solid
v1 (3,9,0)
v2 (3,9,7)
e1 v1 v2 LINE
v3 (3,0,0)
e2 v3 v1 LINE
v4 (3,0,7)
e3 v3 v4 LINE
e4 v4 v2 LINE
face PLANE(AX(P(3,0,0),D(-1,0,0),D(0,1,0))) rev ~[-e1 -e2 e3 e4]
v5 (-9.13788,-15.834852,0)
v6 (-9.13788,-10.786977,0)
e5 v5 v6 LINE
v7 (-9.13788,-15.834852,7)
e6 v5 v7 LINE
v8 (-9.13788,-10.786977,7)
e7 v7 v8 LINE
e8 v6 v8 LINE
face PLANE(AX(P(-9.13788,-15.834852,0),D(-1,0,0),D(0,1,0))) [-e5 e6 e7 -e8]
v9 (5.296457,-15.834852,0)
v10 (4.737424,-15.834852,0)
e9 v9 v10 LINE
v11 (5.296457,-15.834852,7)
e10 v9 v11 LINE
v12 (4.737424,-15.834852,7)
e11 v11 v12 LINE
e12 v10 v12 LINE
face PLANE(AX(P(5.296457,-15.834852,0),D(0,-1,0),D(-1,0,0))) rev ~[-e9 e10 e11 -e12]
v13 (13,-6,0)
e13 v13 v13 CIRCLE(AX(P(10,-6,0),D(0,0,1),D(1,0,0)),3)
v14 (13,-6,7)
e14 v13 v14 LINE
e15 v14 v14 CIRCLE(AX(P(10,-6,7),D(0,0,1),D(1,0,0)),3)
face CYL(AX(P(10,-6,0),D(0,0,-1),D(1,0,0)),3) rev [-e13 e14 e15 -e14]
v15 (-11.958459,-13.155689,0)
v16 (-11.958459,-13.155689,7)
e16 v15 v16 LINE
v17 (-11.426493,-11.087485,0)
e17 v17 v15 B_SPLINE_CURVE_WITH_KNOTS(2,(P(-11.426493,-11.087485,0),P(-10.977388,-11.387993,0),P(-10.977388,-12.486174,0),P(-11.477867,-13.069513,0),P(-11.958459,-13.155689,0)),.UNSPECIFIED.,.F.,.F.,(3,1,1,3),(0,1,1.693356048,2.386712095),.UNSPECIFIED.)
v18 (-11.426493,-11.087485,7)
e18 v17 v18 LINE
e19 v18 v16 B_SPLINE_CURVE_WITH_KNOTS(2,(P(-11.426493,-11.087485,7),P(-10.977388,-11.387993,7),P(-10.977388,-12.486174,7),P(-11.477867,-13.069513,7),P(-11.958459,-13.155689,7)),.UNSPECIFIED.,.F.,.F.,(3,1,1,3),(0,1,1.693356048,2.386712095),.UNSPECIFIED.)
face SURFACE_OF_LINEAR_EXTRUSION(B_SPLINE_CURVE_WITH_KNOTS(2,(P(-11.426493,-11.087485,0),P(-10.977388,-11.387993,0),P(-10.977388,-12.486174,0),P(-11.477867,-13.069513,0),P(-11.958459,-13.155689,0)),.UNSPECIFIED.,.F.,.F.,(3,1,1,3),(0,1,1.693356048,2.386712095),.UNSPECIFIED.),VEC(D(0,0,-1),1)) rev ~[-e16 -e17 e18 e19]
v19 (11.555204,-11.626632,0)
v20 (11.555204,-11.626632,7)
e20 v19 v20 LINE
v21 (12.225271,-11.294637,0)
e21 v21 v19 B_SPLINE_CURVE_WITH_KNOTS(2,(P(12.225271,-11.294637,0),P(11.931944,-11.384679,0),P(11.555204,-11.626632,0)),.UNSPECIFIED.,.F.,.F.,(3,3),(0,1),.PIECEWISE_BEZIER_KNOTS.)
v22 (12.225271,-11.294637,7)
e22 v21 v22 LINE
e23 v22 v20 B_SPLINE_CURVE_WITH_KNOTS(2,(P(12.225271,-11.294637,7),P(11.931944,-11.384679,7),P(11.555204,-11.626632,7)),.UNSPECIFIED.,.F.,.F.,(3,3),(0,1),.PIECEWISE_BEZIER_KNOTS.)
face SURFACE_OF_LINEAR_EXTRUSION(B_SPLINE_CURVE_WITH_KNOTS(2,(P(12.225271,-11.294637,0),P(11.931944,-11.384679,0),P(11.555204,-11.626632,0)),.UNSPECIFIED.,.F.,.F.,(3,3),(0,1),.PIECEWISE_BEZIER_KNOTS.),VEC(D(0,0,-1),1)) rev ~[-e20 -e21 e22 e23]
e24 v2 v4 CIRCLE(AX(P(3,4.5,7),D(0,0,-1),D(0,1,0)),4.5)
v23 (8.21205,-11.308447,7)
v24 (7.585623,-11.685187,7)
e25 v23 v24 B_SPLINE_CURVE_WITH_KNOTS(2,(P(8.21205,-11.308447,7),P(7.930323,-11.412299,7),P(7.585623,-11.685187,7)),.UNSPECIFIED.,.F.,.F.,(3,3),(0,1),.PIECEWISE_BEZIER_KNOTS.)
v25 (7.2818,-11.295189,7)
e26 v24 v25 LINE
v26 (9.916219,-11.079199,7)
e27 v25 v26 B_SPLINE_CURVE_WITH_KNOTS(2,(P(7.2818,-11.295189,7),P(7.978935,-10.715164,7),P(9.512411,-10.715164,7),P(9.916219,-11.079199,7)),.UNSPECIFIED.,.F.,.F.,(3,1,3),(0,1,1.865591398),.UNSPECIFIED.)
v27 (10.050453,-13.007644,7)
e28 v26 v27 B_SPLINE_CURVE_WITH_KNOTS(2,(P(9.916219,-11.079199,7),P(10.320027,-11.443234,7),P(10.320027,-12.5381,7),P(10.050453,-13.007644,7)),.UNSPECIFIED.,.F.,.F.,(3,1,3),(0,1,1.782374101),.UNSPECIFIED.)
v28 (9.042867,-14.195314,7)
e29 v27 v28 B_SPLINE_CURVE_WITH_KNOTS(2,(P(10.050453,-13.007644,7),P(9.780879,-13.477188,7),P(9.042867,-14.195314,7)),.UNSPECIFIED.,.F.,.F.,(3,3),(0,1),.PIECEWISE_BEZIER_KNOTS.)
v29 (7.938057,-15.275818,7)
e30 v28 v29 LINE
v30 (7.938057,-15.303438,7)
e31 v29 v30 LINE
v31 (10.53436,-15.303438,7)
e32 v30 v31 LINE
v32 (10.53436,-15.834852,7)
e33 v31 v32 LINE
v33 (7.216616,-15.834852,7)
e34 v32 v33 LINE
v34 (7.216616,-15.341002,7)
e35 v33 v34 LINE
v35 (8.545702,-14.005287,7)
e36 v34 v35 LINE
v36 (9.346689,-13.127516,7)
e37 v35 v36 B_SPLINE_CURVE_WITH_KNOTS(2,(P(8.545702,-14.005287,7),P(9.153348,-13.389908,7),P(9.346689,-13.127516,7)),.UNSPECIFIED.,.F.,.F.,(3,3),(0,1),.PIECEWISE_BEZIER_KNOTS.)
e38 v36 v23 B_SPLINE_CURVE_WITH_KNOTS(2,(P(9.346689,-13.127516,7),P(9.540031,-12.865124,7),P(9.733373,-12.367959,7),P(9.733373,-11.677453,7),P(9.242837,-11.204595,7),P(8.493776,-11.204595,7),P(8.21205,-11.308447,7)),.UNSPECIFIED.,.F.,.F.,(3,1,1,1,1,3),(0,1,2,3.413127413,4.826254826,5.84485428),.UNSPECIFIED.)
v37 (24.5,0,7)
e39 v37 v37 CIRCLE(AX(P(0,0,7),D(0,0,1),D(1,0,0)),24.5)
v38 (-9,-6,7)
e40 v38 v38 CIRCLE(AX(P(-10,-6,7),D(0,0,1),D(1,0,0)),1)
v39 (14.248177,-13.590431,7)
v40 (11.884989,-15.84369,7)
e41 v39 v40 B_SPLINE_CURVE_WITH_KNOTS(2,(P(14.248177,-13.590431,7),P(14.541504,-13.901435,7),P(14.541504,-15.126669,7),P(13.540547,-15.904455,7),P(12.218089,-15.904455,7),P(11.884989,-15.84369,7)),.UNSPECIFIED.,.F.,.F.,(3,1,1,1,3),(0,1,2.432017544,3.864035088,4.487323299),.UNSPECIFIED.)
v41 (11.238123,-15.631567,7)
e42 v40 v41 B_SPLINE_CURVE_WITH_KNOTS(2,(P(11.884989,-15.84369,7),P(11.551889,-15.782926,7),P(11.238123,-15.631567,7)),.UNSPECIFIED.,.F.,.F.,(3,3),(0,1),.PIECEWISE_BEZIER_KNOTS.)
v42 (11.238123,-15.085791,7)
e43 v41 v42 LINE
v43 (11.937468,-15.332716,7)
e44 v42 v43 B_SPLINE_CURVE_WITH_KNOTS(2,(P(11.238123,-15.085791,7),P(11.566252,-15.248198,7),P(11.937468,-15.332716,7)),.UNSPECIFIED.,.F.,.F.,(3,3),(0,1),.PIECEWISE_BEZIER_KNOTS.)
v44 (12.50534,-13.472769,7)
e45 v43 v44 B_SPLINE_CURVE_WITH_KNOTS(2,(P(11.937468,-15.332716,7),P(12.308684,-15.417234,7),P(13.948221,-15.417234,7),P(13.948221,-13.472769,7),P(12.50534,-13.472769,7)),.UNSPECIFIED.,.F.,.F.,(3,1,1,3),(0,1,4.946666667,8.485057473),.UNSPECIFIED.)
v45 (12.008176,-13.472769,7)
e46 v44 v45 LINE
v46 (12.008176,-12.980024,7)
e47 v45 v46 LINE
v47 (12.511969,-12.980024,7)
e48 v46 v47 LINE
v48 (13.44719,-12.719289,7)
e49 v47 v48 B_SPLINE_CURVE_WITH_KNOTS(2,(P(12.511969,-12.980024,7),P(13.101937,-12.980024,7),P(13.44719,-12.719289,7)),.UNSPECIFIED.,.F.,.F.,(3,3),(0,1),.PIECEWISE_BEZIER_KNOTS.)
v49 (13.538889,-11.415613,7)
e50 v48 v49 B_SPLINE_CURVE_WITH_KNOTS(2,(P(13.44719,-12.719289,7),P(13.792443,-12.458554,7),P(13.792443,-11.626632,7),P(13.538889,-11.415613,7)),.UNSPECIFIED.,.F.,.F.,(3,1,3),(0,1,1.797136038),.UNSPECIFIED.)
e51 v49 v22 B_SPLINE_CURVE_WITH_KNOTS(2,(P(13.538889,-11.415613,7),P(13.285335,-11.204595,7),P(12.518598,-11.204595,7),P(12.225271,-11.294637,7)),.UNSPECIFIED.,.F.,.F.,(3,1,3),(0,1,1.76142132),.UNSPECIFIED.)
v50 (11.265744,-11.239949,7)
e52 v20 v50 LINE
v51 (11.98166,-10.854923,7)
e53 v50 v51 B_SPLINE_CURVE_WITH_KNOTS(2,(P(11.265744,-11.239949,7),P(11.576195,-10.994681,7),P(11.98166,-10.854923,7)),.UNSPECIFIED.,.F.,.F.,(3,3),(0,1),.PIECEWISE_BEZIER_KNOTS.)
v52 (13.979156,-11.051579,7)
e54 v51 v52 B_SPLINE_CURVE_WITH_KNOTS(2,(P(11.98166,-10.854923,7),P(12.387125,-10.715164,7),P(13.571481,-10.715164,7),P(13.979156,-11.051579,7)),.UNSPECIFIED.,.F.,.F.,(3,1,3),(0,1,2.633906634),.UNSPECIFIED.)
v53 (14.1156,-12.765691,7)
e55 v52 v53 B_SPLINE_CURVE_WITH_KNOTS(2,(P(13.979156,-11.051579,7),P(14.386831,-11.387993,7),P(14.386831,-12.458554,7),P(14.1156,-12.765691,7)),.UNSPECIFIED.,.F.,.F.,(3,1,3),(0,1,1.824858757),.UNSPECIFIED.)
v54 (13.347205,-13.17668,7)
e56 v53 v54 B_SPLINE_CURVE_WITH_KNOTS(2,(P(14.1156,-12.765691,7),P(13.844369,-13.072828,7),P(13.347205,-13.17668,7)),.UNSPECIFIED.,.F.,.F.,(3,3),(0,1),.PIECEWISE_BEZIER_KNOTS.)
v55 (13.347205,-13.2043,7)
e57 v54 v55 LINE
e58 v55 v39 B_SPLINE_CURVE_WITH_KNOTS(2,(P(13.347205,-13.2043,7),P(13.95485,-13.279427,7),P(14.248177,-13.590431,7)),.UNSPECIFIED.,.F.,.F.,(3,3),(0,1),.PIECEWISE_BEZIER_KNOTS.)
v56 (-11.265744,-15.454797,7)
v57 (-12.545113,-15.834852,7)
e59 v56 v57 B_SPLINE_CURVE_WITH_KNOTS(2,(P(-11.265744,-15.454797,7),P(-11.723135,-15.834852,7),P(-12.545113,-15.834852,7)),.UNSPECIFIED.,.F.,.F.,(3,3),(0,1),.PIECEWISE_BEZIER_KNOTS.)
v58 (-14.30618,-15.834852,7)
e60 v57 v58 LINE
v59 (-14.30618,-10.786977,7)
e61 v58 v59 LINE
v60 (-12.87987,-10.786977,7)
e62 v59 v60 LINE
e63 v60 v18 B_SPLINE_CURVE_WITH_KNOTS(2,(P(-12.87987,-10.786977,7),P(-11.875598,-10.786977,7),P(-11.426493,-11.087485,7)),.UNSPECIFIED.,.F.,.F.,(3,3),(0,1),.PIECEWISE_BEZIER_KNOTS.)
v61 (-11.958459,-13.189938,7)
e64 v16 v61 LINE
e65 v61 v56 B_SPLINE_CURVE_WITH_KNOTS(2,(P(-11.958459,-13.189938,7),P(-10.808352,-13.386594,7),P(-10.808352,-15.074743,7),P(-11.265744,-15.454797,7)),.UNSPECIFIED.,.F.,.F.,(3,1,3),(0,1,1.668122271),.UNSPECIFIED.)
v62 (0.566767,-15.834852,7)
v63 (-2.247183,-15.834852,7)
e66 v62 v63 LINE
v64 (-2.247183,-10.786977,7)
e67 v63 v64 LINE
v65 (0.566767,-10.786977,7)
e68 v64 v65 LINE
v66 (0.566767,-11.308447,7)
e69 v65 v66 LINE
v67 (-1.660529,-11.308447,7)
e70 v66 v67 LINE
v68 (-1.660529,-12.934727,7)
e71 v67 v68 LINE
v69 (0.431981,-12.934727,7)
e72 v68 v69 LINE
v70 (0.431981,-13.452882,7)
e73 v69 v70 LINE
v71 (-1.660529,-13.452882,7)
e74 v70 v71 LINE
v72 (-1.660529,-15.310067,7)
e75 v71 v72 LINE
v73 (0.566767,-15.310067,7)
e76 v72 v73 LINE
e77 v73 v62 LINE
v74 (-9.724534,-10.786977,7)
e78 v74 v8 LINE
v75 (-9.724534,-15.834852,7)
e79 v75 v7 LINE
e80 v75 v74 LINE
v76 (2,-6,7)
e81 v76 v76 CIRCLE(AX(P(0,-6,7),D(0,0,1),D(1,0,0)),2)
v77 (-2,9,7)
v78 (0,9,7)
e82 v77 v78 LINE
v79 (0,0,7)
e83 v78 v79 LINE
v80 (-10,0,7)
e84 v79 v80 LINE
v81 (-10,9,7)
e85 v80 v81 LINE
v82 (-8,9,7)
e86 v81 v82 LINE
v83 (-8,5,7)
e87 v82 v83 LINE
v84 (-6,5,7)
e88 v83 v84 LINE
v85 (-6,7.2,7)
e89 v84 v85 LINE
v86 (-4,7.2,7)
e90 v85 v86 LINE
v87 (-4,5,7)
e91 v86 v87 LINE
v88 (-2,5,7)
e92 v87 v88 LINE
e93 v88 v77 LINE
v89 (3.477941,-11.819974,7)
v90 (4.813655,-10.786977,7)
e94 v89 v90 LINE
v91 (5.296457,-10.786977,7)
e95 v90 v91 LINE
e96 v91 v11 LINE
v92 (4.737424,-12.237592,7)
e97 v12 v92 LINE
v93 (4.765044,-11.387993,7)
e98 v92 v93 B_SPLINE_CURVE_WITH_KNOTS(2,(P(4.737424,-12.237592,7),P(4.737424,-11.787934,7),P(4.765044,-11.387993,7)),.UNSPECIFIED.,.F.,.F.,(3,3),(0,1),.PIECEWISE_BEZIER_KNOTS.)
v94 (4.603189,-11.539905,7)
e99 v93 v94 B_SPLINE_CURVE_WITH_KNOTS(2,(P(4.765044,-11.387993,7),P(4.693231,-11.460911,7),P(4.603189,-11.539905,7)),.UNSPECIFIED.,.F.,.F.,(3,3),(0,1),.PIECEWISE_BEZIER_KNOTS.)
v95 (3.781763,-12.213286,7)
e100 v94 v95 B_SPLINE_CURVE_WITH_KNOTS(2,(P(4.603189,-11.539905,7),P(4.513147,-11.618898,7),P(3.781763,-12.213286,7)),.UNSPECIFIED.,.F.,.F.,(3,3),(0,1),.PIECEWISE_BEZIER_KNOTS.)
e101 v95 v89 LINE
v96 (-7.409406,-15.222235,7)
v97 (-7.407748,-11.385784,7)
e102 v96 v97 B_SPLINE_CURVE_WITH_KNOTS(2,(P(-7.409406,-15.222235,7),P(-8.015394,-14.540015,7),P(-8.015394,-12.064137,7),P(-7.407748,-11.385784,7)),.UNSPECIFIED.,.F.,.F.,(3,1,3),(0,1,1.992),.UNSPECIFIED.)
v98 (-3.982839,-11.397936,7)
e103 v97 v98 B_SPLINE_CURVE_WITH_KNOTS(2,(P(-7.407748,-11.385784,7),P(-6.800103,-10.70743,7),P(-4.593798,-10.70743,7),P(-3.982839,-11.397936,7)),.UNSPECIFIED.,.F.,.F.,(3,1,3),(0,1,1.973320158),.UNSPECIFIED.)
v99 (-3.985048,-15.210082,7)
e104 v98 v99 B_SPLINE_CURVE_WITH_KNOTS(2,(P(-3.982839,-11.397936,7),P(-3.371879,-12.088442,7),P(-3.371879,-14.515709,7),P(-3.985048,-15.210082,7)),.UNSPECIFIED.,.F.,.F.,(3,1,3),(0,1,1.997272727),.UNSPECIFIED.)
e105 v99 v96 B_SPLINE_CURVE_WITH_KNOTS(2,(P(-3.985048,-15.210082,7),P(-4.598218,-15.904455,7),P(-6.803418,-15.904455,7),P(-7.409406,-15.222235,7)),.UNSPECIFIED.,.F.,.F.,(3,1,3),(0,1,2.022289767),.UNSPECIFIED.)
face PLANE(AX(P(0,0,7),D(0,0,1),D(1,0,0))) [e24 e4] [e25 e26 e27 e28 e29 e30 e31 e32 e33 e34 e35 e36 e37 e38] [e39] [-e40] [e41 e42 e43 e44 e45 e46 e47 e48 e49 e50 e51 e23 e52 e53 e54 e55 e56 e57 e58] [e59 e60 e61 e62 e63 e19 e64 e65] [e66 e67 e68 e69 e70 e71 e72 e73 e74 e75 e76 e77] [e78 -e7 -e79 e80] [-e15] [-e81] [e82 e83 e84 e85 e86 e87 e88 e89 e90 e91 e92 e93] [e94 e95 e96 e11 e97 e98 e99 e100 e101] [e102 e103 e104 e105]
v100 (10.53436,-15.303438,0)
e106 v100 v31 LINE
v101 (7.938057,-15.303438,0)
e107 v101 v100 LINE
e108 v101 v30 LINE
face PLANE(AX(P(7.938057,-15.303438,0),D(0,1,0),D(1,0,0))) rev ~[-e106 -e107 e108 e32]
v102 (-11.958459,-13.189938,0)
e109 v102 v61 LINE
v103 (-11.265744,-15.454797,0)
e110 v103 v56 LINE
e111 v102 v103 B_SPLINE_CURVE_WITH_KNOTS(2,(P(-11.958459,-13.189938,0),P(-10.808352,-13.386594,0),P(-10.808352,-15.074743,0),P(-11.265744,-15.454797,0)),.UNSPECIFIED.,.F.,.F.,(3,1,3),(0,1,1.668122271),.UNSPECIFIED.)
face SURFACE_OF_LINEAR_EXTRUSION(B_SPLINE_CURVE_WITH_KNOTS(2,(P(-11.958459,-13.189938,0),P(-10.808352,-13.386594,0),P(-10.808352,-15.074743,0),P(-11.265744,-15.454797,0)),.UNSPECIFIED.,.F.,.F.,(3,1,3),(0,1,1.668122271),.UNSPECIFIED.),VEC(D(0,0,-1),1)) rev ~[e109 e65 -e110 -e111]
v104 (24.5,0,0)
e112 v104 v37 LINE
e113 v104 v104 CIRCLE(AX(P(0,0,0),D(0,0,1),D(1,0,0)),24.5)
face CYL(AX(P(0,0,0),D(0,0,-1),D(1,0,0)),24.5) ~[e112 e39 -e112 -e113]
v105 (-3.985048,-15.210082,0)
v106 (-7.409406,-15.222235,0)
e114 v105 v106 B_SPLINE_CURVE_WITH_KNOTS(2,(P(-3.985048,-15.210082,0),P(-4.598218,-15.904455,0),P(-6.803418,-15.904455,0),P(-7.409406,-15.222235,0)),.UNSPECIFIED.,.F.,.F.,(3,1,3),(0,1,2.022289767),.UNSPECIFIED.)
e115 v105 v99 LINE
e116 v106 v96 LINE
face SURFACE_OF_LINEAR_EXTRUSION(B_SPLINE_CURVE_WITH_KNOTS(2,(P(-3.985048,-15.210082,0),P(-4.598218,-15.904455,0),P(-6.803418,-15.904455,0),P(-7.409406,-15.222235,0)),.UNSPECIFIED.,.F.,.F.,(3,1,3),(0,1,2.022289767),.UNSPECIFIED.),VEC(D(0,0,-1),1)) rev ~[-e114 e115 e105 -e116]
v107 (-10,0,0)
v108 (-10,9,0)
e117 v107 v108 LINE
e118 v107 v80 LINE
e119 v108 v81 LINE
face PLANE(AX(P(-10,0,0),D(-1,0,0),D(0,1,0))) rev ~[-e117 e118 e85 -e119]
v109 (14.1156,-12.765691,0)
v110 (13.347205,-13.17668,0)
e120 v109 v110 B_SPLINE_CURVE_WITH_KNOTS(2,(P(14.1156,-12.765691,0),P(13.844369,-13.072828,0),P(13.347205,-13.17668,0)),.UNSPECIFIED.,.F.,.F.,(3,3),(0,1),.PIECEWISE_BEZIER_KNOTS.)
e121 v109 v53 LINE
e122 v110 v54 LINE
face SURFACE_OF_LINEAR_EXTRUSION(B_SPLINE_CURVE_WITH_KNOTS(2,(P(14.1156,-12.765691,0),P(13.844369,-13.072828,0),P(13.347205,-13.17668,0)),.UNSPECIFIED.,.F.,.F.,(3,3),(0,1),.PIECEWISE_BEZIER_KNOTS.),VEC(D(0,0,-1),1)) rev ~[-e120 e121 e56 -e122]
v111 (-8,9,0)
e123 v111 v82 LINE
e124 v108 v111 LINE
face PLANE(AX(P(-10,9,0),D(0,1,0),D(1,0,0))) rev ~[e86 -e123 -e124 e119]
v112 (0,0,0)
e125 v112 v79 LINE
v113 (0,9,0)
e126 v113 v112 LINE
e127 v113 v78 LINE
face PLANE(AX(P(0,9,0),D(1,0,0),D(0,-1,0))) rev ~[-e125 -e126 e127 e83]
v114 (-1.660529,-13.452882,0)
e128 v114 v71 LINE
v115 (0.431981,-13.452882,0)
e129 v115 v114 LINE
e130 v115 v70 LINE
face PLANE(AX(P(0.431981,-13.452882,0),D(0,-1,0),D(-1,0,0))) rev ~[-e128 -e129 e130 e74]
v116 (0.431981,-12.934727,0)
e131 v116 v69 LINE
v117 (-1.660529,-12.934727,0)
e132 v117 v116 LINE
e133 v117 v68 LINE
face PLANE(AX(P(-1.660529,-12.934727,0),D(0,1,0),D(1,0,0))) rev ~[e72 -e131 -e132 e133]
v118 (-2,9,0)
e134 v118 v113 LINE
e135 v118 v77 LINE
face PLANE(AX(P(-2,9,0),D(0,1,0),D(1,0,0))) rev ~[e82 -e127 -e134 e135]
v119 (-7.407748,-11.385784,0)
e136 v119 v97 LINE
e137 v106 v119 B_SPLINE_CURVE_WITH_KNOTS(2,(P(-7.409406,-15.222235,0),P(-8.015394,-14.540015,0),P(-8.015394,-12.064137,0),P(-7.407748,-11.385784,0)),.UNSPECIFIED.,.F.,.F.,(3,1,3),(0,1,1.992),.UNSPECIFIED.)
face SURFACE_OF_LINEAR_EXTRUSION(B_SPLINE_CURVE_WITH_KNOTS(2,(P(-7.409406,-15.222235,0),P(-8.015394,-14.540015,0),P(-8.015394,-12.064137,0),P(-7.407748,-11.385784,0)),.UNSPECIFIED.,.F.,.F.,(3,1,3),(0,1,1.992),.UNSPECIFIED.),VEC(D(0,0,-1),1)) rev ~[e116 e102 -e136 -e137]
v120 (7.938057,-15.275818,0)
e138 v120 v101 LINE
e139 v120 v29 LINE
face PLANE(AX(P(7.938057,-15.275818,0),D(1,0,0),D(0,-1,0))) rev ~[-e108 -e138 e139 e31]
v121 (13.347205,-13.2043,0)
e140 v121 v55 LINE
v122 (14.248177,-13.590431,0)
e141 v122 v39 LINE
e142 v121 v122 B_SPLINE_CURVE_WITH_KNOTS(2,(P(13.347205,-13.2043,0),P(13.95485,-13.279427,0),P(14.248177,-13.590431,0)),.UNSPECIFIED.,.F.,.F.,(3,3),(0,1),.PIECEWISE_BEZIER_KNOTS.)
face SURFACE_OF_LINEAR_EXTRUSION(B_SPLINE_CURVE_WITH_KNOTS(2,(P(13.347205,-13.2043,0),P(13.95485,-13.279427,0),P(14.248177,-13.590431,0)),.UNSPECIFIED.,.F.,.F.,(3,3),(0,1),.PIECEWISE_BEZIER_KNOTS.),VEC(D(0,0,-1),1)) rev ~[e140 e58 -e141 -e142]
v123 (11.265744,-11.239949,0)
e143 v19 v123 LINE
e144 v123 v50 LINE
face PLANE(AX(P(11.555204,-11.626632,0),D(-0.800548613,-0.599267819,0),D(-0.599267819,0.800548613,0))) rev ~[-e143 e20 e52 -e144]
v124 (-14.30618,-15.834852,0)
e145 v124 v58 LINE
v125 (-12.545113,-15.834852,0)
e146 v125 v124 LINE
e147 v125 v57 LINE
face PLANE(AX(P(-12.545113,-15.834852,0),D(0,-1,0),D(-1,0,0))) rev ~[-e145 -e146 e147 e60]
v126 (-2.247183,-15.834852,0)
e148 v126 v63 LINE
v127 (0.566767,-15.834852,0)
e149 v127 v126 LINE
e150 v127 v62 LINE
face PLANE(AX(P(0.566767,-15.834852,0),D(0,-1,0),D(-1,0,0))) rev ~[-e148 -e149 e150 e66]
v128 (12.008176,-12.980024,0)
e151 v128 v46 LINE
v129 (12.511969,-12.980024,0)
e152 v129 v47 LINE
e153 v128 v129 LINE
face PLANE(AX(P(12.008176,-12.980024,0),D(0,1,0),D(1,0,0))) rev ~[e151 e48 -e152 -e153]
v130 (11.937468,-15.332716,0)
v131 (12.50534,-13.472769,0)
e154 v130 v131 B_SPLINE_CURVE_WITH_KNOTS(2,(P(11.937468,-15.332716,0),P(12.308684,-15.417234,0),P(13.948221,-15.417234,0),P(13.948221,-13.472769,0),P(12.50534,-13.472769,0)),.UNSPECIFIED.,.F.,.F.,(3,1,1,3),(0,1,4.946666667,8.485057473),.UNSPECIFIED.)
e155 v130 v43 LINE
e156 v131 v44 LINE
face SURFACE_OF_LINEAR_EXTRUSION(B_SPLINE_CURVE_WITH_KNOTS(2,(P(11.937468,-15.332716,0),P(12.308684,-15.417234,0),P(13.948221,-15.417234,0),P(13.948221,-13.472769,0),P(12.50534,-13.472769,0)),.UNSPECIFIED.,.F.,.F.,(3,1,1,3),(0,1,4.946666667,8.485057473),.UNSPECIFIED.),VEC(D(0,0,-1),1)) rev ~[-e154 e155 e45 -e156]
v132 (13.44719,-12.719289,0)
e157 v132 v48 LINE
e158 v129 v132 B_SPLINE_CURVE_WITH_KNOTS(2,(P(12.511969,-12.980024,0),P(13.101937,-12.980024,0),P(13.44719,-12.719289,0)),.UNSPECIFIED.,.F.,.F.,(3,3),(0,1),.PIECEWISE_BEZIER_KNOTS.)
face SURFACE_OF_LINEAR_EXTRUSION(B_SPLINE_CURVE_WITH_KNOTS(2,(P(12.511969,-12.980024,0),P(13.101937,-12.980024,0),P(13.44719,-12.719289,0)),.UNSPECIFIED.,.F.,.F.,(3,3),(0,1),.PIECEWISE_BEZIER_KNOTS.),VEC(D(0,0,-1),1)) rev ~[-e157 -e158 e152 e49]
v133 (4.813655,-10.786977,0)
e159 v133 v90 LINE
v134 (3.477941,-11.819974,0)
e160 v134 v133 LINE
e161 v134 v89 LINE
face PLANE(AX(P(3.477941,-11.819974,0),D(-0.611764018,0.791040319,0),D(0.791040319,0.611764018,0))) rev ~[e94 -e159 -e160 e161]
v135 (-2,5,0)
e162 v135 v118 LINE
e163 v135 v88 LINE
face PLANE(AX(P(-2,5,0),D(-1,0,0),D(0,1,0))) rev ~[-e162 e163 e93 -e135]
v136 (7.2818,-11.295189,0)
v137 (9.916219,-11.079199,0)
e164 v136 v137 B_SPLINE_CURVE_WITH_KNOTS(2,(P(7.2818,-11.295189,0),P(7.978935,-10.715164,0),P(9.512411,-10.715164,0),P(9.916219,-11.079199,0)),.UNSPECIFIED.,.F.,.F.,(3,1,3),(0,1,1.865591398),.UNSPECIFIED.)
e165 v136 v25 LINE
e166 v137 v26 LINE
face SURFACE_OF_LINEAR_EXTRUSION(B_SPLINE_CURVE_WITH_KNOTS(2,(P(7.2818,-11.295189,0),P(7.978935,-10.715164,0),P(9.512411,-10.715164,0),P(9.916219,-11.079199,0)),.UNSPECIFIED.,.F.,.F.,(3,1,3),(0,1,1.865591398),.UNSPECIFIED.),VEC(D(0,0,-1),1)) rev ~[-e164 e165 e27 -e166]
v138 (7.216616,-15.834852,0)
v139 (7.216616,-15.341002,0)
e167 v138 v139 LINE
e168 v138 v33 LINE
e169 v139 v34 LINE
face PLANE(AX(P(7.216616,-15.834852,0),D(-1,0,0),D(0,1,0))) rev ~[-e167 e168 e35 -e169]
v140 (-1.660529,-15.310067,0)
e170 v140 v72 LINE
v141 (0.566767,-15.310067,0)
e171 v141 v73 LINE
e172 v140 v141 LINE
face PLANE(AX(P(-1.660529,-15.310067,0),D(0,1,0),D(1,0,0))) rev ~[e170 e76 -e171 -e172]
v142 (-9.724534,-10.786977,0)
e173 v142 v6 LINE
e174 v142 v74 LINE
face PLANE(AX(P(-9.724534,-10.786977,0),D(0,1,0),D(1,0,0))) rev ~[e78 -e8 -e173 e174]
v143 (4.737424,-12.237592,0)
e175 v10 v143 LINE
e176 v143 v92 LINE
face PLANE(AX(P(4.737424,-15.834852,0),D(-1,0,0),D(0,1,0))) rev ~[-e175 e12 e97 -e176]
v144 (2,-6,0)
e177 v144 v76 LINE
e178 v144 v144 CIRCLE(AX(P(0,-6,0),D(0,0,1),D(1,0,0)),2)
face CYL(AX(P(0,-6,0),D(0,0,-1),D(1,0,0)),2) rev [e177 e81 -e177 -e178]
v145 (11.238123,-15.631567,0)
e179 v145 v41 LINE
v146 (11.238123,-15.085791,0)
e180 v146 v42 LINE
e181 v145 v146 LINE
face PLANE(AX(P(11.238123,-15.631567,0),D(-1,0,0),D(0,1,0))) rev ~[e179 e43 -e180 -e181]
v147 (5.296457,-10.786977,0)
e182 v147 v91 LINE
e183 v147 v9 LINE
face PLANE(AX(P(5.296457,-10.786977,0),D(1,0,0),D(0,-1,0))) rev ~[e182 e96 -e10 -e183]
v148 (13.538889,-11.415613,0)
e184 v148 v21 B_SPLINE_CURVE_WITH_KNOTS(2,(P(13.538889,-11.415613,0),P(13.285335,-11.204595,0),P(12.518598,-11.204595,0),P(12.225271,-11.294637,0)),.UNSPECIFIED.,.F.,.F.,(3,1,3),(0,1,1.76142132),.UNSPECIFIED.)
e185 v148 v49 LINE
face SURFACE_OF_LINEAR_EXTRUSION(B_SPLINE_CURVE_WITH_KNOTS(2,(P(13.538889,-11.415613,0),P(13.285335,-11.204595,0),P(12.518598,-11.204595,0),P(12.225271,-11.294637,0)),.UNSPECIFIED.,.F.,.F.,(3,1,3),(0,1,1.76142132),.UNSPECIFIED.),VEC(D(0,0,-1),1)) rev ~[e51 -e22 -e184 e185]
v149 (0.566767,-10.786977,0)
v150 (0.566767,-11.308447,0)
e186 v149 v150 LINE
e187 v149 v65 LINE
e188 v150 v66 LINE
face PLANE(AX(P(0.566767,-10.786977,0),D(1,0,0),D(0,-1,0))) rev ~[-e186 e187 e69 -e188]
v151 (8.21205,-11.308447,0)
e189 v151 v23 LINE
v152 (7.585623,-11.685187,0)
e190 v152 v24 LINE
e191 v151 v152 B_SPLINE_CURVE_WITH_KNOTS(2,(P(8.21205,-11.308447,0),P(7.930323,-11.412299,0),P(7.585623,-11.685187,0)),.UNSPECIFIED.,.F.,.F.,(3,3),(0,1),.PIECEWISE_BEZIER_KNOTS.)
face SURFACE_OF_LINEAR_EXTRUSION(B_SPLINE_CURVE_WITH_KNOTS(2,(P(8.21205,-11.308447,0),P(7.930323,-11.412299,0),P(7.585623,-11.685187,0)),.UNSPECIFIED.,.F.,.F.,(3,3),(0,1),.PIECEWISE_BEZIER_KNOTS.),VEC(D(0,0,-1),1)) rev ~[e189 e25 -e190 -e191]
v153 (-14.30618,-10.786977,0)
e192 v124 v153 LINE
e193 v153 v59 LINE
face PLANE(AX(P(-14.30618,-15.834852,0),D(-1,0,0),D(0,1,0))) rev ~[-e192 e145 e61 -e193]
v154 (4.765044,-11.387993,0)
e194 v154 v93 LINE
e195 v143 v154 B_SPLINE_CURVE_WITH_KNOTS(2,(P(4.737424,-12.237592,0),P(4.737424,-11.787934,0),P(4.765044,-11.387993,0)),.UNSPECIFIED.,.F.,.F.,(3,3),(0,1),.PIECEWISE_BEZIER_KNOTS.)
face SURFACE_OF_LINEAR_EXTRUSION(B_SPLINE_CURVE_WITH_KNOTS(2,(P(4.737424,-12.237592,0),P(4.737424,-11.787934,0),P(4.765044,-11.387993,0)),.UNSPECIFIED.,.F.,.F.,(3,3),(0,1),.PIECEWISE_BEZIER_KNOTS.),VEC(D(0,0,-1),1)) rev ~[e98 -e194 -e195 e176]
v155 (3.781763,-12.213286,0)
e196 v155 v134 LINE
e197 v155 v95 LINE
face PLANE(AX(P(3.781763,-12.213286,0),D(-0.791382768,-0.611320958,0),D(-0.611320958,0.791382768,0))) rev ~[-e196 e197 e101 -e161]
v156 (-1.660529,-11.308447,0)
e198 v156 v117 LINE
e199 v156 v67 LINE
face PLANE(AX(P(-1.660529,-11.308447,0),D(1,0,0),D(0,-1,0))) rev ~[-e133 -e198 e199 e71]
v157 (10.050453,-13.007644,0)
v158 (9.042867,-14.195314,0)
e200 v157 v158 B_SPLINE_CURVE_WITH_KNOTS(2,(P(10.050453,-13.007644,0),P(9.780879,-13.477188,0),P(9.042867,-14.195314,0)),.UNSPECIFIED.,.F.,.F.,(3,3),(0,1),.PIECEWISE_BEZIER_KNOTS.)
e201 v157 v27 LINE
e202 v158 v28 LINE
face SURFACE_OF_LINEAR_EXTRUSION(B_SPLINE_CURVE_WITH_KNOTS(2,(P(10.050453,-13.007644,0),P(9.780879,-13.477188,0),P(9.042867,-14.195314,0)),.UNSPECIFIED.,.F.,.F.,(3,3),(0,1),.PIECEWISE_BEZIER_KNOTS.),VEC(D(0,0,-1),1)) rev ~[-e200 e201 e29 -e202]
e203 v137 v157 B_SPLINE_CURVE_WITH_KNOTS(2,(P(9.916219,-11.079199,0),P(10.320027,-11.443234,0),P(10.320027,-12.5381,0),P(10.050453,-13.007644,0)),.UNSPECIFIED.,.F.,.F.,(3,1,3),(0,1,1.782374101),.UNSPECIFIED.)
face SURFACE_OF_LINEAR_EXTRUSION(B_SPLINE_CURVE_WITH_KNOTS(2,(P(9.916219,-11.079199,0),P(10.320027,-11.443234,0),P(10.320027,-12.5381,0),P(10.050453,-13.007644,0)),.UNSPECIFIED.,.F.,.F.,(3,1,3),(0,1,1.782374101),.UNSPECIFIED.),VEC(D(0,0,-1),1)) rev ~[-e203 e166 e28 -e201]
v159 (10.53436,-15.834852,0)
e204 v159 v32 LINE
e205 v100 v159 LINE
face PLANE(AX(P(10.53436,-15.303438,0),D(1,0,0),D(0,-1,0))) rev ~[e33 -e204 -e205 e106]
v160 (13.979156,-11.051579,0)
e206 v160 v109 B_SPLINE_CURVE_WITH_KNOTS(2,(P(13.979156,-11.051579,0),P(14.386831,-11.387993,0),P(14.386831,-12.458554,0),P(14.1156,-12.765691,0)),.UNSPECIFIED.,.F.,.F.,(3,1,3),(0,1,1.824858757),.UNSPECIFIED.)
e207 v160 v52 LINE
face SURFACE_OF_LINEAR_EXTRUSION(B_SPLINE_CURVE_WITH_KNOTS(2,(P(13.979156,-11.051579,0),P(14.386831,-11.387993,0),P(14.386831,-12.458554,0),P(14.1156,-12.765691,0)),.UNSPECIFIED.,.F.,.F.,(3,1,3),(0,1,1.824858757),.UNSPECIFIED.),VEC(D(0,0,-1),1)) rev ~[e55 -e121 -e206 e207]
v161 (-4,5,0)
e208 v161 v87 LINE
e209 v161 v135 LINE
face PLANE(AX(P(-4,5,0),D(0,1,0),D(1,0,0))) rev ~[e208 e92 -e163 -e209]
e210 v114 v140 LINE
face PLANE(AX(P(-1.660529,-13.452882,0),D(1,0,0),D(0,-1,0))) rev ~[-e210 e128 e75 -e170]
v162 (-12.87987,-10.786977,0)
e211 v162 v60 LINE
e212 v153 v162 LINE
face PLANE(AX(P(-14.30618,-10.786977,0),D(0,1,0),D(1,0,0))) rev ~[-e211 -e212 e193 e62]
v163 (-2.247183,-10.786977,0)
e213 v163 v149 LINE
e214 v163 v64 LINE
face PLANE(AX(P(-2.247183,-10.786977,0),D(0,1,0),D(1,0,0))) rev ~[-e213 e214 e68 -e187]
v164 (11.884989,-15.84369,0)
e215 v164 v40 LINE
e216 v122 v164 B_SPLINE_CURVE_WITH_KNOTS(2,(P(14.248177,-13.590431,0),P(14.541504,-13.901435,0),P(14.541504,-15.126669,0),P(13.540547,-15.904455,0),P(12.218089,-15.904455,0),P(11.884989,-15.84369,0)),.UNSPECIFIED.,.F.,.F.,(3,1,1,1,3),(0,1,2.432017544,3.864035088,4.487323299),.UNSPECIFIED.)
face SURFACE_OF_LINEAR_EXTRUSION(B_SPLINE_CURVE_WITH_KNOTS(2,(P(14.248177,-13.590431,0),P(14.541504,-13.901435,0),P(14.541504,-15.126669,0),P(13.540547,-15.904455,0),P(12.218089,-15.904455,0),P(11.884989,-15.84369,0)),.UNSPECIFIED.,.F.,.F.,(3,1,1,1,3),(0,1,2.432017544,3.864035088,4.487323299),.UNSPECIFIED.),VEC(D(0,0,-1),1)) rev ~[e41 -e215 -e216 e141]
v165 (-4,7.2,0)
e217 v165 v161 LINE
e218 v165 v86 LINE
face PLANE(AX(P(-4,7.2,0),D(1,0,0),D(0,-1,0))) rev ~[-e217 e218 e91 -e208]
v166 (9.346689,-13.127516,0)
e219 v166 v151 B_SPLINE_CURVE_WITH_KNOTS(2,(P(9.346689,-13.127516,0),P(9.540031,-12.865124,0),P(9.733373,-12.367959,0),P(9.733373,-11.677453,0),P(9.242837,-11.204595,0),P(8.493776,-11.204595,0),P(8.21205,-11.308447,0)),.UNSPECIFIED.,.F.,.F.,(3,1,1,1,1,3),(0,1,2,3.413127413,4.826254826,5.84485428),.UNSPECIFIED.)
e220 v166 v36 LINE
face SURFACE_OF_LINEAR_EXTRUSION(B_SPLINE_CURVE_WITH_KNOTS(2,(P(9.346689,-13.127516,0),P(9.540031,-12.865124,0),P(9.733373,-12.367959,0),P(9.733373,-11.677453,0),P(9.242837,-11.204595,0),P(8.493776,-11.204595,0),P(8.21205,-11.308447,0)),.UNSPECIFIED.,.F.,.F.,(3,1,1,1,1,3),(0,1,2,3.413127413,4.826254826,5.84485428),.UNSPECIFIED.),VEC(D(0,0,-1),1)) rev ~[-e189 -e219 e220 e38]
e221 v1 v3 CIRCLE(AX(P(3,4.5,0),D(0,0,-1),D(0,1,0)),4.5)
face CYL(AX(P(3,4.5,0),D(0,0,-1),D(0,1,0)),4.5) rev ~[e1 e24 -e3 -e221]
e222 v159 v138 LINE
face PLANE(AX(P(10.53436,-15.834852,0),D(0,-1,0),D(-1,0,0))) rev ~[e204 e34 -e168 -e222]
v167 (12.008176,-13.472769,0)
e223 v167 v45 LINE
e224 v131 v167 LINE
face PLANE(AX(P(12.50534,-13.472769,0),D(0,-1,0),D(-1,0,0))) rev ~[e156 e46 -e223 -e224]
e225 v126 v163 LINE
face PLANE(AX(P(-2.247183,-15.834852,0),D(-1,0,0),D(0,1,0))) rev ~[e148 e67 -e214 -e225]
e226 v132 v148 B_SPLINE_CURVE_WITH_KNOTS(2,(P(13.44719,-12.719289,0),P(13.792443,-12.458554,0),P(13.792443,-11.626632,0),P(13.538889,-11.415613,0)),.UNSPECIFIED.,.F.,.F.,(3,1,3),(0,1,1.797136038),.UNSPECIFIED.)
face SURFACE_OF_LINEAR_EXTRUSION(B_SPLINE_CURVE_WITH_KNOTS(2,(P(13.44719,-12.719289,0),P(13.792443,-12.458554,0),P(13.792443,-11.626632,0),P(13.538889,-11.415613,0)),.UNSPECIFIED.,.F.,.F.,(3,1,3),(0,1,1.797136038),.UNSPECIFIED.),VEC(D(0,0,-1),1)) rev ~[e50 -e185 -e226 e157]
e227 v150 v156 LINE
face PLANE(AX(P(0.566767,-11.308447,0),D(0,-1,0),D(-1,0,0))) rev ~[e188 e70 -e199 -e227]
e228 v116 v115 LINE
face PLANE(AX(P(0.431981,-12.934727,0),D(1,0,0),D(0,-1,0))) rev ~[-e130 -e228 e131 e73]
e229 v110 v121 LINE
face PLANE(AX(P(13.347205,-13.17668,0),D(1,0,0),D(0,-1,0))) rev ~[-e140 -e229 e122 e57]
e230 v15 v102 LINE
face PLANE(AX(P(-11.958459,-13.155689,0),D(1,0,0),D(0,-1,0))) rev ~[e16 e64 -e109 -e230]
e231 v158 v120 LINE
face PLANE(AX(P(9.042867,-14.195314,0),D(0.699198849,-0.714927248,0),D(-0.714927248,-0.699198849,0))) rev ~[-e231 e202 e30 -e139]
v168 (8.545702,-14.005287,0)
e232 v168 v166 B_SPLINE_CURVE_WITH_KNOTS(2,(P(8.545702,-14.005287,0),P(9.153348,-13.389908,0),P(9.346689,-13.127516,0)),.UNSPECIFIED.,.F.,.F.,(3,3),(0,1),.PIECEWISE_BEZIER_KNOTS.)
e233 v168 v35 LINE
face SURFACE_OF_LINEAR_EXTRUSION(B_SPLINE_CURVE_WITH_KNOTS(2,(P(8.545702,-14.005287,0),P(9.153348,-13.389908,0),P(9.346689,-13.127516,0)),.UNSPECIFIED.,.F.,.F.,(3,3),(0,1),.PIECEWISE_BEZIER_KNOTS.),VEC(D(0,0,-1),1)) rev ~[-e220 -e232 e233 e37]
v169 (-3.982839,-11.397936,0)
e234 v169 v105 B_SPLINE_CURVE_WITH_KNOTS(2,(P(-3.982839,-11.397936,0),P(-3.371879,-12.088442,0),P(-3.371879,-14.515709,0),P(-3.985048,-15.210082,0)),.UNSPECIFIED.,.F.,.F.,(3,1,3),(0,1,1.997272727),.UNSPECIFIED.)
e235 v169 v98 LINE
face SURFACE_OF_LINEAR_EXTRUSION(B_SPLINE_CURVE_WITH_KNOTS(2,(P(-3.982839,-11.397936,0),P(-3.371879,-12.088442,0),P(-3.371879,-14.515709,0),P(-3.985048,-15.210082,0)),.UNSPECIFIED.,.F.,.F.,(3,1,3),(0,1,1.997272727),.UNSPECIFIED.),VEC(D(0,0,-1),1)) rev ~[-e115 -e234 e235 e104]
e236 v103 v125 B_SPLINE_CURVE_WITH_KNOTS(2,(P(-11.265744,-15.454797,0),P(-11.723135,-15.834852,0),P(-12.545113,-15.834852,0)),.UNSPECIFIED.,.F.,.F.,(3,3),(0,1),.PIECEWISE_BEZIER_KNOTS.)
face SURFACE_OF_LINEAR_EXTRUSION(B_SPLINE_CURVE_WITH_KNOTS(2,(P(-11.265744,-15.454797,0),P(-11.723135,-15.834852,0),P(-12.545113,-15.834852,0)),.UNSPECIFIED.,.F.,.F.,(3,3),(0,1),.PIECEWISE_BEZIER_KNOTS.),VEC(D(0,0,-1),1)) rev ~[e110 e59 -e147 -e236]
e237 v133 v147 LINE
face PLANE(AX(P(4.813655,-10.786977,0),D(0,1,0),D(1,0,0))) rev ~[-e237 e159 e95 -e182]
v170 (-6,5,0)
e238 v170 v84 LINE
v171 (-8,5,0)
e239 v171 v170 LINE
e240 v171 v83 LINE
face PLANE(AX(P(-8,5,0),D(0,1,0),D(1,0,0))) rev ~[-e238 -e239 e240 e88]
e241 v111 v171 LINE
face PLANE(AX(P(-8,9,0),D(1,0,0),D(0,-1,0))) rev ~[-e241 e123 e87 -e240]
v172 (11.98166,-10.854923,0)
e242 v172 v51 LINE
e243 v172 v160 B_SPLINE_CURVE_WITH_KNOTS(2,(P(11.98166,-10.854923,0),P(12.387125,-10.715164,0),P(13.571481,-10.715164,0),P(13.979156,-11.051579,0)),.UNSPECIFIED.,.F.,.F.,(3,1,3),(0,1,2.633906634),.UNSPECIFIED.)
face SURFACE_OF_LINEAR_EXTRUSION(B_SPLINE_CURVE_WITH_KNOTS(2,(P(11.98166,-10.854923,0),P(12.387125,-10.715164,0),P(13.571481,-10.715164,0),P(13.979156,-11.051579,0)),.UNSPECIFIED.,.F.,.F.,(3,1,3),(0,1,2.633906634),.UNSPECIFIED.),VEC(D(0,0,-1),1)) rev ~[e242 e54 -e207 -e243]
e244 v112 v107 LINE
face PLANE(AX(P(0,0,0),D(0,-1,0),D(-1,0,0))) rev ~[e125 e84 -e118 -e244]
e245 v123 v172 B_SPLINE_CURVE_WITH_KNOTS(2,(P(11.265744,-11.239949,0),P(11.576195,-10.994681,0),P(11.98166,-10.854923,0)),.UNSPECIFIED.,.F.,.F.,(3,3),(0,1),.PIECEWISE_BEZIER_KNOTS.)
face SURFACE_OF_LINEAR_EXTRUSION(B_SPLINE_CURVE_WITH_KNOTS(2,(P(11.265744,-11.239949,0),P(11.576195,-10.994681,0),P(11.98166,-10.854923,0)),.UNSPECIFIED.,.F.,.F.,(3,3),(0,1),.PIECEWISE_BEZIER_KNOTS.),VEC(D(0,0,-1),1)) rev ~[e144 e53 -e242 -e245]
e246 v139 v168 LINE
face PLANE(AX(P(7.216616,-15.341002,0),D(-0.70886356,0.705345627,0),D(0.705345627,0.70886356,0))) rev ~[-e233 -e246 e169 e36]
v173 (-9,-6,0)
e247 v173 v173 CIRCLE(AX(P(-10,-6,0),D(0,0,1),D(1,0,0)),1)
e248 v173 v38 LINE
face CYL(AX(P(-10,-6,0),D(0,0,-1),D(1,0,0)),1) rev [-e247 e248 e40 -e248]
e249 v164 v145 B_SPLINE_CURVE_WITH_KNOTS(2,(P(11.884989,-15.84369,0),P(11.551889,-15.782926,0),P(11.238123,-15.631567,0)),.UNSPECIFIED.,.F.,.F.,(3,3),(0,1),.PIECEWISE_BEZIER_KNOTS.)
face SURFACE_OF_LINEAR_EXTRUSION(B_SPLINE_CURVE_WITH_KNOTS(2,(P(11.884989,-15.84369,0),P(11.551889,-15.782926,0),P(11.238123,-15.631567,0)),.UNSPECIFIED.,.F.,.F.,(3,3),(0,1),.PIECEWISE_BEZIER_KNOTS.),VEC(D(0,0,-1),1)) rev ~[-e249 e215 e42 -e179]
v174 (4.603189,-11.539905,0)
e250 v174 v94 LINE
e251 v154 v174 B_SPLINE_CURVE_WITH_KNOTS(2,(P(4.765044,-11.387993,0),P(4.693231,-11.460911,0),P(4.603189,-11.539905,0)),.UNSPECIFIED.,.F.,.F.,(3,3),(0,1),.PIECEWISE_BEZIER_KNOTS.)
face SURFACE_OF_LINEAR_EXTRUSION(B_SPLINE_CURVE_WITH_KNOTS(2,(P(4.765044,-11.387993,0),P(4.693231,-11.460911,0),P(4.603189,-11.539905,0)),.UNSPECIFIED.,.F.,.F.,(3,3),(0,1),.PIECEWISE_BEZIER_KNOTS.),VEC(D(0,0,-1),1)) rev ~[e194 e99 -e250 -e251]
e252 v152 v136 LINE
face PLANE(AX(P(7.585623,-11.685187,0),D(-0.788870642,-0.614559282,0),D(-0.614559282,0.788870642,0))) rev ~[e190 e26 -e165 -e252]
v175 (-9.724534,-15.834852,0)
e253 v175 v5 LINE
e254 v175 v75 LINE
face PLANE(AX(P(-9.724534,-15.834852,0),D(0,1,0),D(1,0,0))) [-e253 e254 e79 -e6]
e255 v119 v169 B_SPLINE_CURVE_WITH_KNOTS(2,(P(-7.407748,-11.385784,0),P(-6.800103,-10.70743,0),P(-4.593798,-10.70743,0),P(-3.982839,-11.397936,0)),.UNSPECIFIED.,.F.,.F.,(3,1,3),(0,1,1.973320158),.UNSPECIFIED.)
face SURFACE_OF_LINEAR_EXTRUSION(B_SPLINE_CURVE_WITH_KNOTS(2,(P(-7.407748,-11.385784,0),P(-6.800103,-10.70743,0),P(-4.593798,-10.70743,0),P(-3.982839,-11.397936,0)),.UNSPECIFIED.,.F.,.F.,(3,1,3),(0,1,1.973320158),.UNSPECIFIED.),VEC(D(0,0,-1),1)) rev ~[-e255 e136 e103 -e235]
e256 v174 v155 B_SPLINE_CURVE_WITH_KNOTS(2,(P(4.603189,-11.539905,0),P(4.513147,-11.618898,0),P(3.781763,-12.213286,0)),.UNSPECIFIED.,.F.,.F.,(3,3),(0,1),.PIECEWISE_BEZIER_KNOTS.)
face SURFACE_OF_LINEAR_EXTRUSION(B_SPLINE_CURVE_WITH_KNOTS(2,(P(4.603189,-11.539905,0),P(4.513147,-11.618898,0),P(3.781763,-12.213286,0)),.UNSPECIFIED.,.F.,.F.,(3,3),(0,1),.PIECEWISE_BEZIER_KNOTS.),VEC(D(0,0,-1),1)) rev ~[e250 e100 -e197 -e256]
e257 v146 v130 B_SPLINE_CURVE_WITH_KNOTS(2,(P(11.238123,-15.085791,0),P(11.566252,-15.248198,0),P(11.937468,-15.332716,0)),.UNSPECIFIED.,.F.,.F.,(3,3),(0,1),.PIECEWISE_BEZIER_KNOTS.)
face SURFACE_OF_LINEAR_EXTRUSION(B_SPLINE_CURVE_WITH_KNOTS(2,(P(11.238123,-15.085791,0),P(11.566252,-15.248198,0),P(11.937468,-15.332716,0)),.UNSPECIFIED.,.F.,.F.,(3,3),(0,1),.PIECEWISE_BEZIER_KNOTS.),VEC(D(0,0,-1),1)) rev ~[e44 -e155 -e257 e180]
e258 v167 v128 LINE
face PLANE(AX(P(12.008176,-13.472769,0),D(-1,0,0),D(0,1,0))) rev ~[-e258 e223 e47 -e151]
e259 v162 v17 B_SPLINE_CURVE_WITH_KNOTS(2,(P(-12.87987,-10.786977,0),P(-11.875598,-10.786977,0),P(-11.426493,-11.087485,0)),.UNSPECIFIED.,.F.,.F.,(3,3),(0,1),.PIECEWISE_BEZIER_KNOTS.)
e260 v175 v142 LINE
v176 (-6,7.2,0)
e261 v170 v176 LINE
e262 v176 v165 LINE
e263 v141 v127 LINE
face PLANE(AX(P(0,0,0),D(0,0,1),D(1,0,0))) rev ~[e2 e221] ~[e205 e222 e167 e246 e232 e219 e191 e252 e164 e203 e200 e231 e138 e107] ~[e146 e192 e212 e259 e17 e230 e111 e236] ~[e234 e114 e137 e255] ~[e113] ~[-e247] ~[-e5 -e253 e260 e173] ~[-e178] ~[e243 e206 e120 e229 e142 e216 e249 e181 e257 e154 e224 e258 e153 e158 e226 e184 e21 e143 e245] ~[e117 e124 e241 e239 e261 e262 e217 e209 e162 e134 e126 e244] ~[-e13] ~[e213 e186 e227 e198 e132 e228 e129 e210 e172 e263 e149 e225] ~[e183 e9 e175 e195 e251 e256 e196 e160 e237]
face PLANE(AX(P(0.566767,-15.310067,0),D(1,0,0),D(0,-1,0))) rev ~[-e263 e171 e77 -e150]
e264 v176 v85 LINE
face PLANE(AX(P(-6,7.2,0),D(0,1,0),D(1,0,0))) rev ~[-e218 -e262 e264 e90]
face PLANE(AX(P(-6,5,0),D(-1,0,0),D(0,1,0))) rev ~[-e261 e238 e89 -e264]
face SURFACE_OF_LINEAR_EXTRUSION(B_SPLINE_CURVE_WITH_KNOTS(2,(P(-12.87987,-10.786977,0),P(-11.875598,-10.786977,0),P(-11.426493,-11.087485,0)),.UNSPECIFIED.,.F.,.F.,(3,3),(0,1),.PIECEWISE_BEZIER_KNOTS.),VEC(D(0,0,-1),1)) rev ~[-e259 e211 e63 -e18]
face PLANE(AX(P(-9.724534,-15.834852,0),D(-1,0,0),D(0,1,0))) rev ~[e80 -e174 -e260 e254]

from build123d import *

# Parameters (mm, degrees)
F0_R     = 24.5
F0_W     = 0.5866539
F0_H     = 5.0478750829
F0_R_2   = 1
F0_R_3   = 2
F0_R_4   = 3
F1_DEPTH = 7


with BuildPart() as f1:
    # F0 (on Top) → F1 (new body)
    with BuildSketch(Plane.XY):
        Circle(F0_R)
        with BuildLine():
            Line((-14.3061795684, -15.8348518479), (-14.3061795684, -10.786976765))
            Line((-14.3061795684, -10.786976765), (-12.879870369, -10.786976765))
            add(Edge.make_bspline(
                [(-12.879870369, -10.786976765), (-11.8755984385, -10.786976765), (-11.4264933343, -11.0874849775)],
                knots=[0, 0, 0, 1, 1, 1], degree=2))
            add(Edge.make_bspline(
                [(-11.4264933343, -11.0874849775), (-10.9773882301, -11.3879931899), (-10.9773882301, -12.0365164277)],
                knots=[0, 0, 0, 1, 1, 1], degree=2))
            add(Edge.make_bspline(
                [(-10.9773882301, -12.0365164277), (-10.9773882301, -12.4861739367), (-11.2276276055, -12.7778436723)],
                knots=[0, 0, 0, 1, 1, 1], degree=2))
            add(Edge.make_bspline(
                [(-11.2276276055, -12.7778436723), (-11.4778669809, -13.0695134079), (-11.9584591589, -13.155688557)],
                knots=[0, 0, 0, 1, 1, 1], degree=2))
            Line((-11.9584591589, -13.155688557), (-11.9584591589, -13.1899376548))
            add(Edge.make_bspline(
                [(-11.9584591589, -13.1899376548), (-10.8083523606, -13.3865937644), (-10.8083523606, -14.3985993621)],
                knots=[0, 0, 0, 1, 1, 1], degree=2))
            add(Edge.make_bspline(
                [(-10.8083523606, -14.3985993621), (-10.8083523606, -15.07474284), (-11.2657435369, -15.454797344)],
                knots=[0, 0, 0, 1, 1, 1], degree=2))
            add(Edge.make_bspline(
                [(-11.2657435369, -15.454797344), (-11.7231347131, -15.8348518479), (-12.5451130588, -15.8348518479)],
                knots=[0, 0, 0, 1, 1, 1], degree=2))
            Line((-12.5451130588, -15.8348518479), (-14.3061795684, -15.8348518479))
        make_face(mode=Mode.SUBTRACT)
        with Locations((-9.4312071886, -13.3109143065)):
            Rectangle(F0_W, F0_H, mode=Mode.SUBTRACT)
        with BuildLine():
            add(Edge.make_bspline(
                [(-3.9828386241, -11.3979364763), (-3.3718789129, -12.0884424791), (-3.3718789129, -13.303733044)],
                knots=[0, 0, 0, 1, 1, 1], degree=2))
            add(Edge.make_bspline(
                [(-3.3718789129, -13.303733044), (-3.3718789129, -14.5157091802), (-3.9850482434, -15.2100820166)],
                knots=[0, 0, 0, 1, 1, 1], degree=2))
            add(Edge.make_bspline(
                [(-3.9850482434, -15.2100820166), (-4.5982175738, -15.904454853), (-5.6886646535, -15.904454853)],
                knots=[0, 0, 0, 1, 1, 1], degree=2))
            add(Edge.make_bspline(
                [(-5.6886646535, -15.904454853), (-6.8034175444, -15.904454853), (-7.4094056124, -15.2222349222)],
                knots=[0, 0, 0, 1, 1, 1], degree=2))
            add(Edge.make_bspline(
                [(-7.4094056124, -15.2222349222), (-8.0153936805, -14.5400149915), (-8.0153936805, -13.2971041864)],
                knots=[0, 0, 0, 1, 1, 1], degree=2))
            add(Edge.make_bspline(
                [(-8.0153936805, -13.2971041864), (-8.0153936805, -12.0641366678), (-7.407748398, -11.3857835707)],
                knots=[0, 0, 0, 1, 1, 1], degree=2))
            add(Edge.make_bspline(
                [(-7.407748398, -11.3857835707), (-6.8001031156, -10.7074304735), (-5.6820357958, -10.7074304735)],
                knots=[0, 0, 0, 1, 1, 1], degree=2))
            add(Edge.make_bspline(
                [(-5.6820357958, -10.7074304735), (-4.5937983354, -10.7074304735), (-3.9828386241, -11.3979364763)],
                knots=[0, 0, 0, 1, 1, 1], degree=2))
        make_face(mode=Mode.SUBTRACT)
        Polygon((0.5667673271, -15.3100672858), (0.5667673271, -15.8348518479), (-2.2471827355, -15.8348518479), (-2.2471827355, -10.786976765), (0.5667673271, -10.786976765), (0.5667673271, -11.3084468984), (-1.6605288355, -11.3084468984), (-1.6605288355, -12.9347266362), (0.4319805554, -12.9347266362), (0.4319805554, -13.4528823407), (-1.6605288355, -13.4528823407), (-1.6605288355, -15.3100672858), align=None, mode=Mode.SUBTRACT)
        with Locations((-10, -6)):
            Circle(F0_R_2, mode=Mode.SUBTRACT)
        with Locations((0, -6)):
            Circle(F0_R_3, mode=Mode.SUBTRACT)
        with BuildLine():
            Line((5.2964572439, -10.786976765), (5.2964572439, -15.8348518479))
            Line((5.2964572439, -15.8348518479), (4.737423584, -15.8348518479))
            Line((4.737423584, -15.8348518479), (4.737423584, -12.2375917757))
            add(Edge.make_bspline(
                [(4.737423584, -12.2375917757), (4.737423584, -11.7879342667), (4.7650438241, -11.3879931899)],
                knots=[0, 0, 0, 1, 1, 1], degree=2))
            add(Edge.make_bspline(
                [(4.7650438241, -11.3879931899), (4.6932311998, -11.4609106238), (4.6031892171, -11.5399045105)],
                knots=[0, 0, 0, 1, 1, 1], degree=2))
            add(Edge.make_bspline(
                [(4.6031892171, -11.5399045105), (4.5131472343, -11.6188983972), (3.7817632761, -12.2132859644)],
                knots=[0, 0, 0, 1, 1, 1], degree=2))
            Line((3.7817632761, -12.2132859644), (3.4779406349, -11.8199737452))
            Line((3.4779406349, -11.8199737452), (4.8136554467, -10.786976765))
            Line((4.8136554467, -10.786976765), (5.2964572439, -10.786976765))
        make_face(mode=Mode.SUBTRACT)
        with BuildLine():
            Line((10.5343595787, -15.3034384282), (10.5343595787, -15.8348518479))
            Line((10.5343595787, -15.8348518479), (7.2166163365, -15.8348518479))
            Line((7.2166163365, -15.8348518479), (7.2166163365, -15.3410019547))
            Line((7.2166163365, -15.3410019547), (8.5457022906, -14.0052871429))
            add(Edge.make_bspline(
                [(8.5457022906, -14.0052871429), (9.1533475731, -13.3899081932), (9.3466892539, -13.1275159121)],
                knots=[0, 0, 0, 1, 1, 1], degree=2))
            add(Edge.make_bspline(
                [(9.3466892539, -13.1275159121), (9.5400309347, -12.8651236311), (9.6367017751, -12.6165414701)],
                knots=[0, 0, 0, 1, 1, 1], degree=2))
            add(Edge.make_bspline(
                [(9.6367017751, -12.6165414701), (9.7333726155, -12.3679593091), (9.7333726155, -12.0818136215)],
                knots=[0, 0, 0, 1, 1, 1], degree=2))
            add(Edge.make_bspline(
                [(9.7333726155, -12.0818136215), (9.7333726155, -11.6774533063), (9.4881048833, -11.4410240509)],
                knots=[0, 0, 0, 1, 1, 1], degree=2))
            add(Edge.make_bspline(
                [(9.4881048833, -11.4410240509), (9.2428371511, -11.2045947955), (8.8075421669, -11.2045947955)],
                knots=[0, 0, 0, 1, 1, 1], degree=2))
            add(Edge.make_bspline(
                [(8.8075421669, -11.2045947955), (8.4937762392, -11.2045947955), (8.2120497901, -11.3084468984)],
                knots=[0, 0, 0, 1, 1, 1], degree=2))
            add(Edge.make_bspline(
                [(8.2120497901, -11.3084468984), (7.9303233409, -11.4122990012), (7.5856227443, -11.6851869735)],
                knots=[0, 0, 0, 1, 1, 1], degree=2))
            Line((7.5856227443, -11.6851869735), (7.2818001031, -11.2951891831))
            add(Edge.make_bspline(
                [(7.2818001031, -11.2951891831), (7.9789349635, -10.7151641408), (8.8009133093, -10.7151641408)],
                knots=[0, 0, 0, 1, 1, 1], degree=2))
            add(Edge.make_bspline(
                [(8.8009133093, -10.7151641408), (9.5124106946, -10.7151641408), (9.916218605, -11.0791989054)],
                knots=[0, 0, 0, 1, 1, 1], degree=2))
            add(Edge.make_bspline(
                [(9.916218605, -11.0791989054), (10.3200265154, -11.4432336701), (10.3200265154, -12.0575078102)],
                knots=[0, 0, 0, 1, 1, 1], degree=2))
            add(Edge.make_bspline(
                [(10.3200265154, -12.0575078102), (10.3200265154, -12.5380999881), (10.0504529719, -13.00764407)],
                knots=[0, 0, 0, 1, 1, 1], degree=2))
            add(Edge.make_bspline(
                [(10.0504529719, -13.00764407), (9.7808794284, -13.477188152), (9.0428666127, -14.1953143949)],
                knots=[0, 0, 0, 1, 1, 1], degree=2))
            Line((9.0428666127, -14.1953143949), (7.9380570082, -15.275818188))
            Line((7.9380570082, -15.275818188), (7.9380570082, -15.3034384282))
            Line((7.9380570082, -15.3034384282), (10.5343595787, -15.3034384282))
        make_face(mode=Mode.SUBTRACT)
        with BuildLine():
            add(Edge.make_bspline(
                [(13.9791559255, -11.0515786653), (14.3868306695, -11.3879931899), (14.3868306695, -11.9746470899)],
                knots=[0, 0, 0, 1, 1, 1], degree=2))
            add(Edge.make_bspline(
                [(14.3868306695, -11.9746470899), (14.3868306695, -12.4585536966), (14.1155999116, -12.7656907667)],
                knots=[0, 0, 0, 1, 1, 1], degree=2))
            add(Edge.make_bspline(
                [(14.1155999116, -12.7656907667), (13.8443691537, -13.0728278367), (13.3472048317, -13.1766799395)],
                knots=[0, 0, 0, 1, 1, 1], degree=2))
            Line((13.3472048317, -13.1766799395), (13.3472048317, -13.2043001796))
            add(Edge.make_bspline(
                [(13.3472048317, -13.2043001796), (13.9548501142, -13.2794272327), (14.2481770642, -13.5904311364)],
                knots=[0, 0, 0, 1, 1, 1], degree=2))
            add(Edge.make_bspline(
                [(14.2481770642, -13.5904311364), (14.5415040141, -13.9014350401), (14.5415040141, -14.4052282197)],
                knots=[0, 0, 0, 1, 1, 1], degree=2))
            add(Edge.make_bspline(
                [(14.5415040141, -14.4052282197), (14.5415040141, -15.1266688914), (14.0410252633, -15.5155618722)],
                knots=[0, 0, 0, 1, 1, 1], degree=2))
            add(Edge.make_bspline(
                [(14.0410252633, -15.5155618722), (13.5405465125, -15.904454853), (12.6191353023, -15.904454853)],
                knots=[0, 0, 0, 1, 1, 1], degree=2))
            add(Edge.make_bspline(
                [(12.6191353023, -15.904454853), (12.2180894159, -15.904454853), (11.8849893202, -15.8436903247)],
                knots=[0, 0, 0, 1, 1, 1], degree=2))
            add(Edge.make_bspline(
                [(11.8849893202, -15.8436903247), (11.5518892244, -15.7829257965), (11.2381232968, -15.6315668807)],
                knots=[0, 0, 0, 1, 1, 1], degree=2))
            Line((11.2381232968, -15.6315668807), (11.2381232968, -15.0857909361))
            add(Edge.make_bspline(
                [(11.2381232968, -15.0857909361), (11.5662517493, -15.2481979479), (11.9374677764, -15.3327158827)],
                knots=[0, 0, 0, 1, 1, 1], degree=2))
            add(Edge.make_bspline(
                [(11.9374677764, -15.3327158827), (12.3086838035, -15.4172338174), (12.6401266848, -15.4172338174)],
                knots=[0, 0, 0, 1, 1, 1], degree=2))
            add(Edge.make_bspline(
                [(12.6401266848, -15.4172338174), (13.9482212565, -15.4172338174), (13.9482212565, -14.3919705045)],
                knots=[0, 0, 0, 1, 1, 1], degree=2))
            add(Edge.make_bspline(
                [(13.9482212565, -14.3919705045), (13.9482212565, -13.4727689135), (12.5053399131, -13.4727689135)],
                knots=[0, 0, 0, 1, 1, 1], degree=2))
            Line((12.5053399131, -13.4727689135), (12.0081755911, -13.4727689135))
            Line((12.0081755911, -13.4727689135), (12.0081755911, -12.9800238299))
            Line((12.0081755911, -12.9800238299), (12.5119687707, -12.9800238299))
            add(Edge.make_bspline(
                [(12.5119687707, -12.9800238299), (13.1019370995, -12.9800238299), (13.4471901009, -12.7192887633)],
                knots=[0, 0, 0, 1, 1, 1], degree=2))
            add(Edge.make_bspline(
                [(13.4471901009, -12.7192887633), (13.7924431023, -12.4585536966), (13.7924431023, -11.9956384723)],
                knots=[0, 0, 0, 1, 1, 1], degree=2))
            add(Edge.make_bspline(
                [(13.7924431023, -11.9956384723), (13.7924431023, -11.6266320645), (13.5388892981, -11.41561343)],
                knots=[0, 0, 0, 1, 1, 1], degree=2))
            add(Edge.make_bspline(
                [(13.5388892981, -11.41561343), (13.2853354938, -11.2045947955), (12.8500405097, -11.2045947955)],
                knots=[0, 0, 0, 1, 1, 1], degree=2))
            add(Edge.make_bspline(
                [(12.8500405097, -11.2045947955), (12.5185976283, -11.2045947955), (12.2252706784, -11.2946367783)],
                knots=[0, 0, 0, 1, 1, 1], degree=2))
            add(Edge.make_bspline(
                [(12.2252706784, -11.2946367783), (11.9319437284, -11.3846787611), (11.5552036532, -11.6266320645)],
                knots=[0, 0, 0, 1, 1, 1], degree=2))
            Line((11.5552036532, -11.6266320645), (11.2657435369, -11.2399487029))
            add(Edge.make_bspline(
                [(11.2657435369, -11.2399487029), (11.5761950357, -10.9946809707), (11.9816601606, -10.8549225557)],
                knots=[0, 0, 0, 1, 1, 1], degree=2))
            add(Edge.make_bspline(
                [(11.9816601606, -10.8549225557), (12.3871252854, -10.7151641408), (12.8367827944, -10.7151641408)],
                knots=[0, 0, 0, 1, 1, 1], degree=2))
            add(Edge.make_bspline(
                [(12.8367827944, -10.7151641408), (13.5714811814, -10.7151641408), (13.9791559255, -11.0515786653)],
                knots=[0, 0, 0, 1, 1, 1], degree=2))
        make_face(mode=Mode.SUBTRACT)
        with Locations((10, -6)):
            Circle(F0_R_4, mode=Mode.SUBTRACT)
        Polygon((0, 9), (0, 0), (-10, 0), (-10, 9), (-8, 9), (-8, 5), (-6, 5), (-6, 7.2), (-4, 7.2), (-4, 5), (-2, 5), (-2, 9), align=None, mode=Mode.SUBTRACT)
        with BuildLine():
            Line((3, 0), (3, 9))
            ThreePointArc((3, 9), (7.5, 4.5), (3, 0))
        make_face(mode=Mode.SUBTRACT)
    extrude(amount=F1_DEPTH)


solid = f1.part
